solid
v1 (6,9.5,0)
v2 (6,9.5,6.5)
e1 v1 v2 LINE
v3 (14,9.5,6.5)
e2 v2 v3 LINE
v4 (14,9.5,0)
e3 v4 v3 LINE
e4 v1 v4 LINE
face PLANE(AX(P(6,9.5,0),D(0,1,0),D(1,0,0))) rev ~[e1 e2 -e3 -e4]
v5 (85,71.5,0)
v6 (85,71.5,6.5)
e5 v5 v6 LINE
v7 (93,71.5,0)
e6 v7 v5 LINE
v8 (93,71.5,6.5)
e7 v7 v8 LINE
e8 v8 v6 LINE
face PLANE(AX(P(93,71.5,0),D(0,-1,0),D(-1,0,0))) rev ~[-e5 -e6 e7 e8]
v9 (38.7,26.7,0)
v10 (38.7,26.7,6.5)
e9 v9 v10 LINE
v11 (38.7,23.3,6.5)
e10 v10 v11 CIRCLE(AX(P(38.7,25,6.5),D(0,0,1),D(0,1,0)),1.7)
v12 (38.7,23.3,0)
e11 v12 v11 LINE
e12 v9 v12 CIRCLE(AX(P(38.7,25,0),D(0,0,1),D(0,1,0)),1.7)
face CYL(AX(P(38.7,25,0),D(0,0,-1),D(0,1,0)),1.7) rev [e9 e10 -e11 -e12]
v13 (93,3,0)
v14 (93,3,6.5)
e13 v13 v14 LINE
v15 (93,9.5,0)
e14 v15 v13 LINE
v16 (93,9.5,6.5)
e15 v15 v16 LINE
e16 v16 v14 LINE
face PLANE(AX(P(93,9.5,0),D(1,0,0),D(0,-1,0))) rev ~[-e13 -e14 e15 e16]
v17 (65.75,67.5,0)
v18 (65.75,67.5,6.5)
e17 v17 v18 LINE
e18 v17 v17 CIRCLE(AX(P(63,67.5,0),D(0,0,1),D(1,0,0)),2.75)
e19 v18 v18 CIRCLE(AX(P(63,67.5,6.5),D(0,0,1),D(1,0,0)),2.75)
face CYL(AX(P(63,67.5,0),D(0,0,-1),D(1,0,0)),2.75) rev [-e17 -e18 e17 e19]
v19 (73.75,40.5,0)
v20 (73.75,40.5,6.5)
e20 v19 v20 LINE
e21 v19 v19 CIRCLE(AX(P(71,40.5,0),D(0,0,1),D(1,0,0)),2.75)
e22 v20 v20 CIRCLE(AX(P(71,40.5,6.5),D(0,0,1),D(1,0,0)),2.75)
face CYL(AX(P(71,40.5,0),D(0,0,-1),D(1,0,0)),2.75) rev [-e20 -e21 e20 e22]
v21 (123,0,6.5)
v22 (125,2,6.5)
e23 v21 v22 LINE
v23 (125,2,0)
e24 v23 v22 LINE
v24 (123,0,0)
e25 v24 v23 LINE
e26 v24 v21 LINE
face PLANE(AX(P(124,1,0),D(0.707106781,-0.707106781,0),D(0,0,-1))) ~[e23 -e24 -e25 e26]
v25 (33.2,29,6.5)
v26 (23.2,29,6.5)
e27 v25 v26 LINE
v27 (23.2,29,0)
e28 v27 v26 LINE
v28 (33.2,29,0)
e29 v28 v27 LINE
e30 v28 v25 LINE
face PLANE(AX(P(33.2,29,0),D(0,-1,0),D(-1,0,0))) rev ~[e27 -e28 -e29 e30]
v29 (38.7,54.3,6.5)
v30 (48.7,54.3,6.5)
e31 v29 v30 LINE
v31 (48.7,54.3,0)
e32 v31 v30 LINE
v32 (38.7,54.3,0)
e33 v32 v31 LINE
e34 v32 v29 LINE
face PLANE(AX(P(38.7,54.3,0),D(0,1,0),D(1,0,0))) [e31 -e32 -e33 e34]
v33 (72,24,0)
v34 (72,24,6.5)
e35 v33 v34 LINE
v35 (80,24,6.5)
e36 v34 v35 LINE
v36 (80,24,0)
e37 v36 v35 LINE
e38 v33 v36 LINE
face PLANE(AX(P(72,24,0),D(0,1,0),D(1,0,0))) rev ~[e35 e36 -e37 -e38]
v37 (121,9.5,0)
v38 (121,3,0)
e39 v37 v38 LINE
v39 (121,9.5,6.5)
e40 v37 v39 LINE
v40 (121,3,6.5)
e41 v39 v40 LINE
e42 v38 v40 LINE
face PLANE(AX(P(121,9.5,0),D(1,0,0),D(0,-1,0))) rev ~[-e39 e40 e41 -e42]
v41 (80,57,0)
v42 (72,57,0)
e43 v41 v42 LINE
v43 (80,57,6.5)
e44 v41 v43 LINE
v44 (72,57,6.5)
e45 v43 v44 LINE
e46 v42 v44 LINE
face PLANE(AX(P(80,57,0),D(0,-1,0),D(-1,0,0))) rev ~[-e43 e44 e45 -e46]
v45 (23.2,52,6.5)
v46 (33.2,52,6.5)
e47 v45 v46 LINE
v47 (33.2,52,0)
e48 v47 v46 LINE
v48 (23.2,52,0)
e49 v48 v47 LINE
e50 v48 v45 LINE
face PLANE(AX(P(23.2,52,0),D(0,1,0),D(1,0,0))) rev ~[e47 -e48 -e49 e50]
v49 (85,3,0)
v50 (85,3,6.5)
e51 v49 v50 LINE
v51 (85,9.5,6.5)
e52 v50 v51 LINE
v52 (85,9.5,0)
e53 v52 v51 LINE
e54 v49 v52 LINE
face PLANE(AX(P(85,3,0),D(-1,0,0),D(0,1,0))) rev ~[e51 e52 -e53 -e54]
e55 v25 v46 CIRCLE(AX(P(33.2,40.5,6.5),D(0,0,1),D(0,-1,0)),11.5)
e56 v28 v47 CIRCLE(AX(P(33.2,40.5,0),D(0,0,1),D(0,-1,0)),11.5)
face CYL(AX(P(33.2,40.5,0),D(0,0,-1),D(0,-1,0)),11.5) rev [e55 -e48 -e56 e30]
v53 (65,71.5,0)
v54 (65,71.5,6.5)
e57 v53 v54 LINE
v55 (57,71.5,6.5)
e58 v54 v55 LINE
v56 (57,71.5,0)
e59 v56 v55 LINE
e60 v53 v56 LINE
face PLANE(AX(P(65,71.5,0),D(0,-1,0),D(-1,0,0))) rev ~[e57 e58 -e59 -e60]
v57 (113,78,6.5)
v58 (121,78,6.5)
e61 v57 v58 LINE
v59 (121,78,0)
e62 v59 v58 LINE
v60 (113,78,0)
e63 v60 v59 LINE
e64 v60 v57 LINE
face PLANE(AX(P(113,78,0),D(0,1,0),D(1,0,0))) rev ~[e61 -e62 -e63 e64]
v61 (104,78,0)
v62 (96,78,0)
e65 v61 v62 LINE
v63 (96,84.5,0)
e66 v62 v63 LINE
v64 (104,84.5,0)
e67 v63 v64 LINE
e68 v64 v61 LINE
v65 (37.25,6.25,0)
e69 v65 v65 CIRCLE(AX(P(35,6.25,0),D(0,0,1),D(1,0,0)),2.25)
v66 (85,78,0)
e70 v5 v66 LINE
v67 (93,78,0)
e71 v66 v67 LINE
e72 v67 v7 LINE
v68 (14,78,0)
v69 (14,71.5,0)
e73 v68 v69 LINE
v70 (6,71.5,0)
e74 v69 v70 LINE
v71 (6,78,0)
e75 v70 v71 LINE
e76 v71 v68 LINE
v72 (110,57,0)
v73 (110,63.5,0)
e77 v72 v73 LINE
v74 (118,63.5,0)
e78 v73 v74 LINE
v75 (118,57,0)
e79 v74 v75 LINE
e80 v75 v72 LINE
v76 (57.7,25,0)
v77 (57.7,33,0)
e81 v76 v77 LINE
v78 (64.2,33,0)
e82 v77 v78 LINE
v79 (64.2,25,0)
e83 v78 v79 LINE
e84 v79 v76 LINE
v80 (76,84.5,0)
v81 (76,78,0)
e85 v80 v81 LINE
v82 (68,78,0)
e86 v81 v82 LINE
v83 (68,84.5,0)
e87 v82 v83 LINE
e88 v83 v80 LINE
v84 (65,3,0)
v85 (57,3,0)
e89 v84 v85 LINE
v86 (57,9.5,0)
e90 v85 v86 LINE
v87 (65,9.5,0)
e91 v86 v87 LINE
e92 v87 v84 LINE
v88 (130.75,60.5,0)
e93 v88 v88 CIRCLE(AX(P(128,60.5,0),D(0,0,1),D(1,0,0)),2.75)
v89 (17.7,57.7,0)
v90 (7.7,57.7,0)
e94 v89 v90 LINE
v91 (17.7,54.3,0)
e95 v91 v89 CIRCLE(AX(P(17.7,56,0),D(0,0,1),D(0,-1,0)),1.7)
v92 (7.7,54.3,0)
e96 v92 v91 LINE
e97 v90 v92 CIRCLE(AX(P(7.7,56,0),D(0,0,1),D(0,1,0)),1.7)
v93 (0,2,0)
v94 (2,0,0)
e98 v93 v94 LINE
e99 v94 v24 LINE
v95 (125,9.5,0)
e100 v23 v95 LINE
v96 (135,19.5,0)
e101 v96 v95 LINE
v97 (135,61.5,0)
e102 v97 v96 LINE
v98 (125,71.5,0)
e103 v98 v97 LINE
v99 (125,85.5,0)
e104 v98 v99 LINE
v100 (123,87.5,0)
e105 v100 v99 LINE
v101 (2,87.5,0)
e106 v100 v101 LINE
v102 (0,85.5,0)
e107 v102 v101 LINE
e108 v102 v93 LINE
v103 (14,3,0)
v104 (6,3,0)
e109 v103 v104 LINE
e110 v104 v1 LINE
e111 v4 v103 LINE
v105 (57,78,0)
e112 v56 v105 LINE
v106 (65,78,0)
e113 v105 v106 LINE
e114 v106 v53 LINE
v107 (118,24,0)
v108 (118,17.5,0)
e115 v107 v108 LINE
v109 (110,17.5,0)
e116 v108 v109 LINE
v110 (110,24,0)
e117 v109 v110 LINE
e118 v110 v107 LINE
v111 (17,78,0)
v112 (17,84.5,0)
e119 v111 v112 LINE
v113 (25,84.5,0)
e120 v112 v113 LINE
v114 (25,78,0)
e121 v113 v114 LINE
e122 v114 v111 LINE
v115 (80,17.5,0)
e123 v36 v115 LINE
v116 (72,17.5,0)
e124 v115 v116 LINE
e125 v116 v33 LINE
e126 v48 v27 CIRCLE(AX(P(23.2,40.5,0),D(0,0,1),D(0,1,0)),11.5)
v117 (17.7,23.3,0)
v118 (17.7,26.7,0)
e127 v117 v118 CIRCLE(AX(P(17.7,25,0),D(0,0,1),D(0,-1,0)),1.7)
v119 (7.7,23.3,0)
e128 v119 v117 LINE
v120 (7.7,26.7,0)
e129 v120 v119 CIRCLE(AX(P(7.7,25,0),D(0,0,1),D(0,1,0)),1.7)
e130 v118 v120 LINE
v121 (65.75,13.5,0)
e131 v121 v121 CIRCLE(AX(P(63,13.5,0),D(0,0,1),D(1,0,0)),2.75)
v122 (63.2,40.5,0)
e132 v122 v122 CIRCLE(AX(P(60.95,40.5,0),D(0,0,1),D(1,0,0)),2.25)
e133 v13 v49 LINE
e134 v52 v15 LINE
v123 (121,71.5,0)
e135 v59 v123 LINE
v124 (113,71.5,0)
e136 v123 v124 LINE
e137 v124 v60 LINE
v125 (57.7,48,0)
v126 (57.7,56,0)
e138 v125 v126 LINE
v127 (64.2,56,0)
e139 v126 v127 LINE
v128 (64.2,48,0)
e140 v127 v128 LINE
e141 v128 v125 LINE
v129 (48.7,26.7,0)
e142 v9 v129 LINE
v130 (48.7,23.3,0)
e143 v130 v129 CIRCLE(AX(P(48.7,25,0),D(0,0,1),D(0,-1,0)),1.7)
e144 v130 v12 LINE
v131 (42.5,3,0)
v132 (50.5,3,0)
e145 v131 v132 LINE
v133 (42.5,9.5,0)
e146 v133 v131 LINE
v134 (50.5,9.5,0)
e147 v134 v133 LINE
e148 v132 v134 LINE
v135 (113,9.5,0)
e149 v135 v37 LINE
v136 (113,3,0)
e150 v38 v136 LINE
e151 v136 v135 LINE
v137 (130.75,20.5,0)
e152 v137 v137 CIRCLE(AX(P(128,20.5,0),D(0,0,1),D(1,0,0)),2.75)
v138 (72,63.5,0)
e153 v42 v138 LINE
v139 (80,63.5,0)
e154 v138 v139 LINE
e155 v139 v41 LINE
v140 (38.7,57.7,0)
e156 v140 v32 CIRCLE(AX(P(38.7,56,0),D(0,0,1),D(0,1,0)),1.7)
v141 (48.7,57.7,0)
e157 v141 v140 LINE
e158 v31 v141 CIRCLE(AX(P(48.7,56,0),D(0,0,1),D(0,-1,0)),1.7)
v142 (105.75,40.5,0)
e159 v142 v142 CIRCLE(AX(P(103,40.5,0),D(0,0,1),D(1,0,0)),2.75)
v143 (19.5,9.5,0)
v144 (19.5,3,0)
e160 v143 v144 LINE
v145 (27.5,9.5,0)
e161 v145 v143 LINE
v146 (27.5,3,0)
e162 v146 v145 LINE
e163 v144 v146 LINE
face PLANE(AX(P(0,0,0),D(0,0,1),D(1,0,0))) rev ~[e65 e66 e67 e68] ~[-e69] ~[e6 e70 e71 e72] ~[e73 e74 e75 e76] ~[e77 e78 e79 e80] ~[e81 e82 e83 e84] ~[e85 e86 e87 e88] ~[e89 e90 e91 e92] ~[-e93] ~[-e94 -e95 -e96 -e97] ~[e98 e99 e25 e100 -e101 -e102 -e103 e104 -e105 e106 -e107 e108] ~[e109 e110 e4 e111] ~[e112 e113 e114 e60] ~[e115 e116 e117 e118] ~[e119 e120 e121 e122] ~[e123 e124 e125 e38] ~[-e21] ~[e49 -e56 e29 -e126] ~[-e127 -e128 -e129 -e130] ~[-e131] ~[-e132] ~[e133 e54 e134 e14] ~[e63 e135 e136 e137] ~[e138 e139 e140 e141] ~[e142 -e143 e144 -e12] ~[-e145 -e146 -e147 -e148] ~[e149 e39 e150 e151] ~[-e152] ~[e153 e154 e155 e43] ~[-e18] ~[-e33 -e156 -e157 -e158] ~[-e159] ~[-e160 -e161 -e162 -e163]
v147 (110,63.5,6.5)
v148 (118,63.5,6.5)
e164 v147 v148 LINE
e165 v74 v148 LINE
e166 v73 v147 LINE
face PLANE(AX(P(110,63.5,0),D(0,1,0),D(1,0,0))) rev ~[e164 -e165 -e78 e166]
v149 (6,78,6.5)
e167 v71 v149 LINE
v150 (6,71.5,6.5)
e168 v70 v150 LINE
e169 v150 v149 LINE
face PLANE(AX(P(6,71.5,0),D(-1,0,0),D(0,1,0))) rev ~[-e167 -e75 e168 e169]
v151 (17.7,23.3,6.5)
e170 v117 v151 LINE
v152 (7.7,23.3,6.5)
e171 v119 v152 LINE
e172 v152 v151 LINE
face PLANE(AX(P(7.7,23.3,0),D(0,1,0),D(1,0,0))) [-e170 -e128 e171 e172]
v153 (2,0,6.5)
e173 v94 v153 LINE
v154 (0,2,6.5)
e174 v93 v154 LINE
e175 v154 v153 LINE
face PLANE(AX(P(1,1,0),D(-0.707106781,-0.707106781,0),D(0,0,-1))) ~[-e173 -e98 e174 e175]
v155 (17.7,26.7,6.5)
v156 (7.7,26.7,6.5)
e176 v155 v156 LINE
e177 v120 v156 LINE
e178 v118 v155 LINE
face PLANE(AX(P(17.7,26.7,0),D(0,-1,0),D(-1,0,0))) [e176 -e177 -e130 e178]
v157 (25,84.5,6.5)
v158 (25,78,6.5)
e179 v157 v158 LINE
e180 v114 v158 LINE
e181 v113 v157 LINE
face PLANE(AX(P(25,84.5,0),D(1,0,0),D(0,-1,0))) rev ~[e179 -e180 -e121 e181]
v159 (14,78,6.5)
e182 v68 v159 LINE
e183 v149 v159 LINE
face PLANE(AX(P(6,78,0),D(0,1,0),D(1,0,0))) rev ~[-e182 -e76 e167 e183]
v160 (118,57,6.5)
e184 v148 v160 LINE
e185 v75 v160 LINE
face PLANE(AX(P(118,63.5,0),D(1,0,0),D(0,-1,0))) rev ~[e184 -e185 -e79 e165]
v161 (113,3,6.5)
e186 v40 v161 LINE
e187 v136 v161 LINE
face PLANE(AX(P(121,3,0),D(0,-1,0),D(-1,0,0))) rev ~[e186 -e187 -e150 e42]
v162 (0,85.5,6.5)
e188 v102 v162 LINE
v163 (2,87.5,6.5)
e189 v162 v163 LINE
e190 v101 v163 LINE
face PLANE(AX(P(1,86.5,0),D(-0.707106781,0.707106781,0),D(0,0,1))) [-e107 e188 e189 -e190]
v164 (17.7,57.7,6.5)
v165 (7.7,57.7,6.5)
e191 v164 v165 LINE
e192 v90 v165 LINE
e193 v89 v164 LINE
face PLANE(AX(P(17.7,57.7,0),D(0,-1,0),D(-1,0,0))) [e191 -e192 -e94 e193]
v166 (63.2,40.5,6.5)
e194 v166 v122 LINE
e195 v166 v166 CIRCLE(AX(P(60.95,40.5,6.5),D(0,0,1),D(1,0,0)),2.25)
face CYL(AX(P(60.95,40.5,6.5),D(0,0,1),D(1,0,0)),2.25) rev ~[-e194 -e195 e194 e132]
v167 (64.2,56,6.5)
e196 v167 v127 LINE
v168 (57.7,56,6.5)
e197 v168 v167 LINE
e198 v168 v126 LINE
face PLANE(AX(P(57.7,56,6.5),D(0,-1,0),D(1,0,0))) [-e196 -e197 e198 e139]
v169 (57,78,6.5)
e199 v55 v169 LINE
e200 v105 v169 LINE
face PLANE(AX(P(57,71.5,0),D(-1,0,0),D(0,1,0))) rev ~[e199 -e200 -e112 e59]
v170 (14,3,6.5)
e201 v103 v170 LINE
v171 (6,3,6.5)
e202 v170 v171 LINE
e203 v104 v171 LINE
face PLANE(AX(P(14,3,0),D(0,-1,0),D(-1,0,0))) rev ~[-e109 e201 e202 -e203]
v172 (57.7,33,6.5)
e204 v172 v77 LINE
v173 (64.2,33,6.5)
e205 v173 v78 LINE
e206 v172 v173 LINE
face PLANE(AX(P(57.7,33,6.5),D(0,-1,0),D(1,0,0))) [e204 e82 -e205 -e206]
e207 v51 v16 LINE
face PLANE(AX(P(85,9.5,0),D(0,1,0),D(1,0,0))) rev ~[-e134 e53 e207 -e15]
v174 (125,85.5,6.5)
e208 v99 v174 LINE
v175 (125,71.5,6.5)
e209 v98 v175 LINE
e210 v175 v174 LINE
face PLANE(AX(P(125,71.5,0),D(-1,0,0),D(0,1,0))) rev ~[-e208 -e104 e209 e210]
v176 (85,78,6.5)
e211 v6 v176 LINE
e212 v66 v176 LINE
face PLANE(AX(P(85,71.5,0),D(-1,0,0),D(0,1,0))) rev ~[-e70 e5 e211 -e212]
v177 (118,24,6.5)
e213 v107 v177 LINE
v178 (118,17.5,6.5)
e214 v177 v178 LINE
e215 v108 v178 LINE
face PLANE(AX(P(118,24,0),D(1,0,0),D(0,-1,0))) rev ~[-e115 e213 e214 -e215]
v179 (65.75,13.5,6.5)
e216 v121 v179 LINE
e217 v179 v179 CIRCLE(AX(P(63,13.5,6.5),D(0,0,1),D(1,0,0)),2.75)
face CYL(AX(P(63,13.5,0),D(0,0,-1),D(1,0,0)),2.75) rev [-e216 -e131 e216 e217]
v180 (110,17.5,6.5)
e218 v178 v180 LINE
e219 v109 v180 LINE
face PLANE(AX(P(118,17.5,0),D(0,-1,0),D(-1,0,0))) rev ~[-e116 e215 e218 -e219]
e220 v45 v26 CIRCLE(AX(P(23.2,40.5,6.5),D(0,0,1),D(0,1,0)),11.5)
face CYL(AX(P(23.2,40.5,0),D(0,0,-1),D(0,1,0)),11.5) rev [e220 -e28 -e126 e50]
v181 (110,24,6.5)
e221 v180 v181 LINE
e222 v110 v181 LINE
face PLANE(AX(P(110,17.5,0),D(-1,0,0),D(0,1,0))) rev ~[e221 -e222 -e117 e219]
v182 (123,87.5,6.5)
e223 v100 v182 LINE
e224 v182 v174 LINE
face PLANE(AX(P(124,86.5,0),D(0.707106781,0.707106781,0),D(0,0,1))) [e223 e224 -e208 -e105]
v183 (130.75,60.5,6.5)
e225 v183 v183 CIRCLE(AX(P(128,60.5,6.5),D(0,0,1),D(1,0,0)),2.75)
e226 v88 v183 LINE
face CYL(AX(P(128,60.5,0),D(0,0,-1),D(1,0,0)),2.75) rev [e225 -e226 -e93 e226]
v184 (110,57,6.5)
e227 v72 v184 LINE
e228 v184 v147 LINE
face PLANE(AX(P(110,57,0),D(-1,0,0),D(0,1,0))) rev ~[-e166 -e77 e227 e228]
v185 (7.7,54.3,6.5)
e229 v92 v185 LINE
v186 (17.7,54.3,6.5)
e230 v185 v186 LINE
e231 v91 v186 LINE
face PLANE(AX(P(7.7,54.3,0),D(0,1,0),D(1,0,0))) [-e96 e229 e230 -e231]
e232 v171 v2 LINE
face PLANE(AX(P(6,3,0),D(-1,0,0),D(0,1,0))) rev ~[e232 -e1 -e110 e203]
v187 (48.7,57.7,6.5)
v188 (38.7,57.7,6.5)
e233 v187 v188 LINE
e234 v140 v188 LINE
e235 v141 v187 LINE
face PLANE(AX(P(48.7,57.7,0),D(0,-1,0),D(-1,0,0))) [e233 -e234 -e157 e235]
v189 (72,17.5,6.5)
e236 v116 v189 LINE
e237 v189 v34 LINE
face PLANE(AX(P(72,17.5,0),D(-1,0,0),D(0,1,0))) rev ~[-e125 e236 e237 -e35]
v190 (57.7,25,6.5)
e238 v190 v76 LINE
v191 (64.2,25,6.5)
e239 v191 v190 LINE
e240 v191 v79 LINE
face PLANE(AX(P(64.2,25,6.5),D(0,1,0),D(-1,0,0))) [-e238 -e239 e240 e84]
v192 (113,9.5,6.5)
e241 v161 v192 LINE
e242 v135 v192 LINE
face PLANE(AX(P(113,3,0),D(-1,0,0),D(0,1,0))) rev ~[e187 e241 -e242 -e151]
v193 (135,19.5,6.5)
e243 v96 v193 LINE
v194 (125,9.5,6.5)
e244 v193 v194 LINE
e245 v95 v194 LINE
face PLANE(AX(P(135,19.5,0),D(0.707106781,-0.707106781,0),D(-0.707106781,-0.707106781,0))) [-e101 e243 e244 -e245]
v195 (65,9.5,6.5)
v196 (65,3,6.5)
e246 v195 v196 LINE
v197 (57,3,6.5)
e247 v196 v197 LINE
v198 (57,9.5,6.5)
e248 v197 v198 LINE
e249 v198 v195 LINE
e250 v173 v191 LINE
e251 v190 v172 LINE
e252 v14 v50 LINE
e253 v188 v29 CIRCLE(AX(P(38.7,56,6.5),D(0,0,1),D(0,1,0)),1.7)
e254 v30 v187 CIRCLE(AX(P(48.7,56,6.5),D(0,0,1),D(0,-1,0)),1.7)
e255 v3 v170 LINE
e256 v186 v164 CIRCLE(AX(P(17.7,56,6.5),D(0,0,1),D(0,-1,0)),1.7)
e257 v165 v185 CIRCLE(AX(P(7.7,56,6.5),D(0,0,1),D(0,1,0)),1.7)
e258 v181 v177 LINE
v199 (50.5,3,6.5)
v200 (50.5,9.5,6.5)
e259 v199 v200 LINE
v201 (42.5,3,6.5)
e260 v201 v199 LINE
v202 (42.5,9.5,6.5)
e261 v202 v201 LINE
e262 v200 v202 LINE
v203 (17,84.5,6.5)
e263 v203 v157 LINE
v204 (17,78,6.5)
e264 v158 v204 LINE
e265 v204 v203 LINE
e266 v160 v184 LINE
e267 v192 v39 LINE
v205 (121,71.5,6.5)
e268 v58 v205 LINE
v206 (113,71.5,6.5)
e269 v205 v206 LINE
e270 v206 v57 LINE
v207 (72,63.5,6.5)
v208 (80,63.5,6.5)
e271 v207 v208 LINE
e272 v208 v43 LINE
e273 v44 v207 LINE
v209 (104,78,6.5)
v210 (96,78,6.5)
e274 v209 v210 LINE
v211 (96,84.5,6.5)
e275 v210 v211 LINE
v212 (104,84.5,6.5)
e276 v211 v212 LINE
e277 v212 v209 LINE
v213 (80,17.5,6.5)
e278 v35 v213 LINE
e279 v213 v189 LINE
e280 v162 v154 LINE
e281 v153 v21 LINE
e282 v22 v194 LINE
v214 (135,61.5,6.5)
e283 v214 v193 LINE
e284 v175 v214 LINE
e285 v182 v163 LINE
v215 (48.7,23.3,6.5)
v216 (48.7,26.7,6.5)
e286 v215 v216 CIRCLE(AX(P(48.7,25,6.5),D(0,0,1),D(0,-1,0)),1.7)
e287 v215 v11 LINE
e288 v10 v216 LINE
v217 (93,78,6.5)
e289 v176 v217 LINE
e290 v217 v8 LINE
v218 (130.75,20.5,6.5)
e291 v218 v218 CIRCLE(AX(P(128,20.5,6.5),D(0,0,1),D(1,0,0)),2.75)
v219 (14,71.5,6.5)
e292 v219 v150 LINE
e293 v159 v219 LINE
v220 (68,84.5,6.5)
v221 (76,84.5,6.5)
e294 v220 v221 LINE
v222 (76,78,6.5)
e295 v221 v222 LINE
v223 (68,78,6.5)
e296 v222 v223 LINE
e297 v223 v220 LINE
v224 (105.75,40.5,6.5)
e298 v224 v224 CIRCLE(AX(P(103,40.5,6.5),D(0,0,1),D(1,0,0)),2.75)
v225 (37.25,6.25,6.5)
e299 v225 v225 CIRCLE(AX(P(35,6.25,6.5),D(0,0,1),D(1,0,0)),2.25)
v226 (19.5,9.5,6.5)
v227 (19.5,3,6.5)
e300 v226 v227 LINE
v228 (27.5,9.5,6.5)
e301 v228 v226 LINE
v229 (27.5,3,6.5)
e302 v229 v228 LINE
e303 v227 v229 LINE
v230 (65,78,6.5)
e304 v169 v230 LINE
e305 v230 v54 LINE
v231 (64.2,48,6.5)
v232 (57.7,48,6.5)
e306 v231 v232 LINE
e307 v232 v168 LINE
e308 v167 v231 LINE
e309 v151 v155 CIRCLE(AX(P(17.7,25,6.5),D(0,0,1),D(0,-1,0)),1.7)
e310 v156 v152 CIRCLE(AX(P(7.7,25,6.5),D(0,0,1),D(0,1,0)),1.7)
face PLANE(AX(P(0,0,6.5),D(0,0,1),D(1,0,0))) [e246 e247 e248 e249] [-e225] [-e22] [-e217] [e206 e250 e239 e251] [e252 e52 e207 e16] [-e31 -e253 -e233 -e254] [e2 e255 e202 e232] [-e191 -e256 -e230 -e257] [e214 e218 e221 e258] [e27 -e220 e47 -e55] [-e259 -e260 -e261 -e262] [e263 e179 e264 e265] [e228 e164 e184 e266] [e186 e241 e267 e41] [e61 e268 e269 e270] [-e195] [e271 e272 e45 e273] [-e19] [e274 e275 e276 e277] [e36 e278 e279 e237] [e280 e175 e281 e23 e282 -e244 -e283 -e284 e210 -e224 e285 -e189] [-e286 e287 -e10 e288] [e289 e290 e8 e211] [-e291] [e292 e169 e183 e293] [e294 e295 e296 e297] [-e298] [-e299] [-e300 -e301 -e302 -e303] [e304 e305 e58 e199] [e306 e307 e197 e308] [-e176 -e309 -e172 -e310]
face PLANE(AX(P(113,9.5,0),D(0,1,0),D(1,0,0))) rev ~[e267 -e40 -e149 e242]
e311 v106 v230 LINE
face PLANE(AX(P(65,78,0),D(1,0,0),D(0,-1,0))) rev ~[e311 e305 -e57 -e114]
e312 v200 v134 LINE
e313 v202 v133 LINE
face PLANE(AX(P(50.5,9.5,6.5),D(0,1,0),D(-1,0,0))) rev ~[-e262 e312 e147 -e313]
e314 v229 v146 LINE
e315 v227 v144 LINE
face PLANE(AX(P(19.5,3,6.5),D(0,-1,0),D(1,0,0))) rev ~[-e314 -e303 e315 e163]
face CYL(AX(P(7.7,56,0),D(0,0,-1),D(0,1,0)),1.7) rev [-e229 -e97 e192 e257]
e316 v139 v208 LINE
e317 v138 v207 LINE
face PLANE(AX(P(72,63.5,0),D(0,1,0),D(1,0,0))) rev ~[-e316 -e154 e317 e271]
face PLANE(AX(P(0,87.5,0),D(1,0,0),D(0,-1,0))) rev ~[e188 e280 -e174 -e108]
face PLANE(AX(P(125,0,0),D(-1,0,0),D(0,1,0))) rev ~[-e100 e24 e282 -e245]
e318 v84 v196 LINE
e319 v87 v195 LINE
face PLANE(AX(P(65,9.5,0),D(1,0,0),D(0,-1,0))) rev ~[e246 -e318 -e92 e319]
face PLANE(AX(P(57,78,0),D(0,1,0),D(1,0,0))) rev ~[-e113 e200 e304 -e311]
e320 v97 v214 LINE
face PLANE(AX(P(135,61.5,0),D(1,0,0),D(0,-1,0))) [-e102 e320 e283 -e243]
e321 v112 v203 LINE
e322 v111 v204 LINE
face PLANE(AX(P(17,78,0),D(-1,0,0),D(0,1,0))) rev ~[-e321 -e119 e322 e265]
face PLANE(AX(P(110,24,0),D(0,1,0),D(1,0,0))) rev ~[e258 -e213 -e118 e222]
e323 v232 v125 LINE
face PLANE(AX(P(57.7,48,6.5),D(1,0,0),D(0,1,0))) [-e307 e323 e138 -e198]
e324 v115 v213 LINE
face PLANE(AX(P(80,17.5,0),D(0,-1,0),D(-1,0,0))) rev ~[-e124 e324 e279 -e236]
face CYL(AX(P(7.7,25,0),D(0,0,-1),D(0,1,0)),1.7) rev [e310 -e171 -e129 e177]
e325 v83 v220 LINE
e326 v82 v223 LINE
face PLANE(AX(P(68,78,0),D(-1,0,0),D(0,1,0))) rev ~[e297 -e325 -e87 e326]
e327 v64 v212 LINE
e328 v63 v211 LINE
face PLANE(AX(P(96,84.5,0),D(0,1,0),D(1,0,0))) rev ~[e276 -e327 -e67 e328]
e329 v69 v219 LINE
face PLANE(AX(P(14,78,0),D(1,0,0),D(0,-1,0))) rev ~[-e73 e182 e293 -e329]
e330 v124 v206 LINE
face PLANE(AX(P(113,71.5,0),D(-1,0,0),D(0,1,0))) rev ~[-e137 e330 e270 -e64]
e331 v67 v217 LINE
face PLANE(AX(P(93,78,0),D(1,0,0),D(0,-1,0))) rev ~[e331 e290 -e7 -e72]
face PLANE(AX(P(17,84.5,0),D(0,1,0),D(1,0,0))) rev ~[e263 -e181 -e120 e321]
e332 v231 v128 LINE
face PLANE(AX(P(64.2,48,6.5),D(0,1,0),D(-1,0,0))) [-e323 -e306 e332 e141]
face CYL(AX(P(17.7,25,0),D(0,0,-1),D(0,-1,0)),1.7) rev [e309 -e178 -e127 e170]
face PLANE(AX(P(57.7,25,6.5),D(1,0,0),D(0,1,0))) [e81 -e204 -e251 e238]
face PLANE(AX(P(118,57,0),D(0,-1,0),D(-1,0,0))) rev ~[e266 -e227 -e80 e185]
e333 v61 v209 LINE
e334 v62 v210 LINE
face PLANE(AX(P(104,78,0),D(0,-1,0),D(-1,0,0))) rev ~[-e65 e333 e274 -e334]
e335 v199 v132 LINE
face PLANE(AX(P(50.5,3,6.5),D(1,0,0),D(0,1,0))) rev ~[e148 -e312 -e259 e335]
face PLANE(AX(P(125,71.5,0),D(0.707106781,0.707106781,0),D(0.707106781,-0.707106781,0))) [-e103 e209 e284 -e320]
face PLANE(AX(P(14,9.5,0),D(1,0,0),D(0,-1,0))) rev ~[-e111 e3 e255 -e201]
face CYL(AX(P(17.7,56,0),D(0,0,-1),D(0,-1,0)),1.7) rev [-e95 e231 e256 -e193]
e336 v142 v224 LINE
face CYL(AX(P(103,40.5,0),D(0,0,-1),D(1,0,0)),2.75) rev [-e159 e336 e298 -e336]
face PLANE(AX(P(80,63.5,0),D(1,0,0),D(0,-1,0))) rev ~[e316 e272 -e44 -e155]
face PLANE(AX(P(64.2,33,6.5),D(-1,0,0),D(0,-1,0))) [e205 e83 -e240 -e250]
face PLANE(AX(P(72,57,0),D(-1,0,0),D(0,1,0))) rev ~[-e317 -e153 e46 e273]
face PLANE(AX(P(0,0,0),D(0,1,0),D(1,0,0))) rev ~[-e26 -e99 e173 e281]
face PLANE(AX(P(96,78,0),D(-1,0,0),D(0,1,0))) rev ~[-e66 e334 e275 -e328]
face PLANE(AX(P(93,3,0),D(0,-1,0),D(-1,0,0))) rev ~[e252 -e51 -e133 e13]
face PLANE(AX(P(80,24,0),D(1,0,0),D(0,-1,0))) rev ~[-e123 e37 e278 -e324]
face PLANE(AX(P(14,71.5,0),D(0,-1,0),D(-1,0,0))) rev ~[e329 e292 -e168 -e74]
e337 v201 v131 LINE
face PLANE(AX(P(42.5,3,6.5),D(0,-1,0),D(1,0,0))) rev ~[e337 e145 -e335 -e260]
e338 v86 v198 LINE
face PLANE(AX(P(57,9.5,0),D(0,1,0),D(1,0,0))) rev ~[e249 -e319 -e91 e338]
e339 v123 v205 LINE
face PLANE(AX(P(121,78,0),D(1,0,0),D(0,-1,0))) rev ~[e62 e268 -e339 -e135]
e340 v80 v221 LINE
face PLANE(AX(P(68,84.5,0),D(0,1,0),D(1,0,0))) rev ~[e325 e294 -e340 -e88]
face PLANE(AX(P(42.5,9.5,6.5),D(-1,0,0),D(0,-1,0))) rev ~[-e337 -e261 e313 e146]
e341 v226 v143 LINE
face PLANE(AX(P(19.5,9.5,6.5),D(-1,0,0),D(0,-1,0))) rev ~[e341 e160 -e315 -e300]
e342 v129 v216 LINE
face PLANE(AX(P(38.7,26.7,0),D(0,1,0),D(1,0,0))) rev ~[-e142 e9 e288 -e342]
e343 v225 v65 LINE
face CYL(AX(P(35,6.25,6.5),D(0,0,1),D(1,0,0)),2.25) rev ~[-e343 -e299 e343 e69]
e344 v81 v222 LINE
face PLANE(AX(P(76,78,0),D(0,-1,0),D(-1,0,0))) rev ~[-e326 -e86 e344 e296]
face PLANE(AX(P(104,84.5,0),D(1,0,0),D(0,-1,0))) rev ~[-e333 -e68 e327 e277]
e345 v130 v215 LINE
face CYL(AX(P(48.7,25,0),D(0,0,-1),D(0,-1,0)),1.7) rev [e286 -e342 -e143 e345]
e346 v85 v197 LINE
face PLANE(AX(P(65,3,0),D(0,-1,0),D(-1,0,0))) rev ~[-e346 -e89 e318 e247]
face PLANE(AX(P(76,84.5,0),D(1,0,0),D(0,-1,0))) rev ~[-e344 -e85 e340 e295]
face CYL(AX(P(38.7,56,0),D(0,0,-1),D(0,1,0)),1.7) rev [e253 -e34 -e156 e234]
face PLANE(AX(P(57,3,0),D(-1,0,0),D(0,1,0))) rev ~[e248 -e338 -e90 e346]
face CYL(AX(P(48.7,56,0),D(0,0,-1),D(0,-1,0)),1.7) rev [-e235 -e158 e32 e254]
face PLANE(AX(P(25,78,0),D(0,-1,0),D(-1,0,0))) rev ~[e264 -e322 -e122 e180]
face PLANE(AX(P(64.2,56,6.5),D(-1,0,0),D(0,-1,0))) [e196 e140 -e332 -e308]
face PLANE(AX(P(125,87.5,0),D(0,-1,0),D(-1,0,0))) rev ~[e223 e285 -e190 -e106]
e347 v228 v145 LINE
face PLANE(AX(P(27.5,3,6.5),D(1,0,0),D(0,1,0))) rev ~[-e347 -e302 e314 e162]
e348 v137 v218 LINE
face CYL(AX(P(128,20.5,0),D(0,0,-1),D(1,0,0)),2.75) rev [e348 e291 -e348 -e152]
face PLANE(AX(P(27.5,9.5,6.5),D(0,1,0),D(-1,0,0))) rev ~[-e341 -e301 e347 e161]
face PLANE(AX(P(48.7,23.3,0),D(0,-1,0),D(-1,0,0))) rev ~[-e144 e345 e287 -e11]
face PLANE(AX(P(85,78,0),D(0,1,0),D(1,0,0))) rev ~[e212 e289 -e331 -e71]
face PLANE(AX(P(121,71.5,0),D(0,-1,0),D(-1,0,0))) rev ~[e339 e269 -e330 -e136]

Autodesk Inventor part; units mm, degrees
ref_plane "YZ Plane" through (0, 0, 0) normal (1, 0, 0) x (0, 1, 0)
ref_plane "XZ Plane" through (0, 0, 0) normal (0, 1, 0) x (-1, 0, 0)
ref_plane "XY Plane" through (0, 0, 0) normal (0, 0, 1) x (1, 0, 0)
sketch "Sketch1" plane through (0, 0, 0) normal (0, 0, 1) x (1, 0, 0)
  line L0 (0, 0) -> (125, 0)
  line L1 (125, 87.5) -> (0, 87.5)
  line L2 (0, 87.5) -> (0, 0)
  line L3 (12.7, 56) -> (43.7, 56) construction
  line L4 (43.7, 56) -> (43.7, 25) construction
  line L5 (43.7, 25) -> (12.7, 25) construction
  line L6 (12.7, 25) -> (12.7, 56) construction
  line L7 (7.7, 56) -> (17.7, 56) construction
  line L8 (7.7, 54.3) -> (17.7, 54.3)
  line L9 (17.7, 57.7) -> (7.7, 57.7)
  arc A0 (7.7, 57.7) -> (7.7, 54.3) centre (7.7, 56) ccw
  arc A1 (17.7, 54.3) -> (17.7, 57.7) centre (17.7, 56) ccw
  line L10 (38.7, 56) -> (48.7, 56) construction
  line L11 (38.7, 54.3) -> (48.7, 54.3)
  line L12 (48.7, 57.7) -> (38.7, 57.7)
  arc A2 (38.7, 57.7) -> (38.7, 54.3) centre (38.7, 56) ccw
  arc A3 (48.7, 54.3) -> (48.7, 57.7) centre (48.7, 56) ccw
  line L13 (7.7, 25) -> (17.7, 25) construction
  line L14 (7.7, 23.3) -> (17.7, 23.3)
  line L15 (17.7, 26.7) -> (7.7, 26.7)
  arc A4 (7.7, 26.7) -> (7.7, 23.3) centre (7.7, 25) ccw
  arc A5 (17.7, 23.3) -> (17.7, 26.7) centre (17.7, 25) ccw
  line L16 (38.7, 25) -> (48.7, 25) construction
  line L17 (38.7, 26.7) -> (48.7, 26.7)
  line L18 (48.7, 23.3) -> (38.7, 23.3)
  arc A6 (38.7, 26.7) -> (38.7, 23.3) centre (38.7, 25) ccw
  arc A7 (48.7, 23.3) -> (48.7, 26.7) centre (48.7, 25) ccw
  line L19 (23.2, 40.5) -> (33.2, 40.5) construction
  line L20 (23.2, 52) -> (33.2, 52)
  line L21 (33.2, 29) -> (23.2, 29)
  arc A8 (23.2, 52) -> (23.2, 29) centre (23.2, 40.5) ccw
  arc A9 (33.2, 29) -> (33.2, 52) centre (33.2, 40.5) ccw
  line L22 (6, 78) -> (14, 78)
  line L23 (14, 78) -> (14, 71.5)
  line L24 (14, 71.5) -> (6, 71.5)
  line L25 (6, 71.5) -> (6, 78)
  line L26 (6, 9.5) -> (14, 9.5)
  line L27 (14, 9.5) -> (14, 3)
  line L28 (14, 3) -> (6, 3)
  line L29 (6, 3) -> (6, 9.5)
  line L30 (125, 71.5) -> (135, 61.5)
  line L31 (135, 61.5) -> (135, 19.5)
  line L32 (135, 19.5) -> (125, 9.5)
  line L33 (125, 0) -> (125, 9.5)
  line L34 (125, 71.5) -> (125, 87.5)
  line L35 (72, 63.5) -> (80, 63.5)
  line L36 (80, 63.5) -> (80, 57)
  line L37 (80, 57) -> (72, 57)
  line L38 (72, 57) -> (72, 63.5)
  line L39 (72, 24) -> (80, 24)
  line L40 (80, 24) -> (80, 17.5)
  line L41 (80, 17.5) -> (72, 17.5)
  line L42 (72, 17.5) -> (72, 24)
  line L43 (0, 67.5) -> (129, 67.5) construction
  line L44 (0, 13.5) -> (129, 13.5) construction
  line L45 (129, 67.5) -> (129, 13.5) construction
  line L46 (17, 84.5) -> (25, 84.5)
  line L47 (25, 84.5) -> (25, 78)
  line L48 (25, 78) -> (17, 78)
  line L49 (17, 78) -> (17, 84.5)
  line L50 (113, 78) -> (121, 78)
  line L51 (121, 78) -> (121, 71.5)
  line L52 (121, 71.5) -> (113, 71.5)
  line L53 (113, 71.5) -> (113, 78)
  line L54 (113, 9.5) -> (121, 9.5)
  line L55 (121, 9.5) -> (121, 3)
  line L56 (121, 3) -> (113, 3)
  line L57 (113, 3) -> (113, 9.5)
  circle A10 centre (128, 60.5) radius 2.75
  circle A11 centre (63, 67.5) radius 2.75
  circle A12 centre (63, 13.5) radius 2.75
  circle A13 centre (128, 20.5) radius 2.75
  line L58 (57, 87.5) -> (57, 0) construction
  line L59 (11.7, 62) -> (54.7, 62) construction
  line L60 (54.7, 62) -> (54.7, 19) construction
  line L61 (54.7, 19) -> (11.7, 19) construction
  line L62 (11.7, 19) -> (11.7, 62) construction
  line L63 (17.7, 25) -> (48.7, 25) construction
  line L64 (110, 63.5) -> (118, 63.5)
  line L65 (118, 63.5) -> (118, 57)
  line L66 (118, 57) -> (110, 57)
  line L67 (110, 57) -> (110, 63.5)
  line L68 (110, 24) -> (118, 24)
  line L69 (118, 24) -> (118, 17.5)
  line L70 (118, 17.5) -> (110, 17.5)
  line L71 (110, 17.5) -> (110, 24)
  line L72 (85, 78) -> (93, 78)
  line L73 (93, 78) -> (93, 71.5)
  line L74 (93, 71.5) -> (85, 71.5)
  line L75 (85, 71.5) -> (85, 78)
  line L76 (85, 9.5) -> (93, 9.5)
  line L77 (93, 9.5) -> (93, 3)
  line L78 (93, 3) -> (85, 3)
  line L79 (85, 3) -> (85, 9.5)
  line L80 (57, 78) -> (65, 78)
  line L81 (65, 78) -> (65, 71.5)
  line L82 (65, 71.5) -> (57, 71.5)
  line L83 (57, 71.5) -> (57, 78)
  line L84 (57, 9.5) -> (65, 9.5)
  line L85 (65, 9.5) -> (65, 3)
  line L86 (65, 3) -> (57, 3)
  line L87 (57, 3) -> (57, 9.5)
  line L88 (68, 84.5) -> (76, 84.5)
  line L89 (76, 84.5) -> (76, 78)
  line L90 (76, 78) -> (68, 78)
  line L91 (68, 78) -> (68, 84.5)
  line L92 (96, 84.5) -> (104, 84.5)
  line L93 (104, 84.5) -> (104, 78)
  line L94 (104, 78) -> (96, 78)
  line L95 (96, 78) -> (96, 84.5)
  circle A14 centre (71, 40.5) radius 5 construction
  circle A15 centre (103, 40.5) radius 5 construction
  circle A16 centre (103, 40.5) radius 2.75
  circle A17 centre (71, 40.5) radius 2.75
  point P0 (28.2, 40.5)
  point P1 (28.2, 56)
  point P2 (12.7, 40.5)
  point P3 (129, 40.5)
  point P4 (11.7, 40.5)
  point P5 (33.2, 25)
  point P6 (33.2, 19)
  dimension "d1" = 31
  dimension "d2" = 31
  dimension "d3" = 3.4
  dimension "d4" = 3.4
  dimension "d5" = 3.4
  dimension "d6" = 3.4
  dimension "d7" = 10
  dimension "d8" = 23
  dimension "d9" = 3
  dimension "d10" = 6.5
  dimension "d11" = 6.5
  dimension "d13" = 45
  dimension "d14" = 10
  dimension "d15" = 8
  dimension "d16" = 6.5
  dimension "d17" = 8
  dimension "d18" = 6.5
  dimension "d19" = 4
  dimension "d21" = 8
  dimension "d22" = 8
  dimension "d23" = 7.7
  dimension "d25" = 8
  dimension "d26" = 6.5
  dimension "d27" = 3
  dimension "d28" = 6
  dimension "d29" = 8
  dimension "d30" = 4
  dimension "d31" = 4
  dimension "d32" = 125
  dimension "d33" = 5.5
  dimension "d34" = 5.5
  dimension "d35" = 5.5
  dimension "d36" = 5.5
  dimension "d37" = 7
  dimension "d38" = 11
  dimension "d39" = 7
  dimension "d40" = 11
  dimension "d41" = 62
  dimension "d42" = 68
  dimension "d43" = 43
  dimension "d44" = 43
  dimension "d45" = 8
  dimension "d47" = 8
  dimension "d48" = 10
  dimension "d49" = 8
  dimension "d50" = 20
  dimension "d51" = 8
  dimension "d52" = 20
  dimension "d53" = 8
  dimension "d54" = 8
  dimension "d55" = 3
  dimension "d56" = 3
  dimension "d57" = 15
  dimension "d58" = 10
  dimension "d59" = 10
  dimension "d60" = 5.5
  dimension "d61" = 5.5
  dimension "d62" = 14
  dimension "d63" = 32
  dimension "d96" = 3
  dimension "d97" = 54
extrude "Extrusion4" add sketch "Sketch1" along normal blind 6.5
sketch "Sketch4" plane through (0, 0, 6.5) normal (0, 0, 1) x (1, 0, 0)
  arc A0 (33.2, 29) -> (33.2, 52) centre (33.2, 40.5) ccw projected
  line L0 (14, 9.5) -> (14, 3) projected
  line L1 (6, 9.5) -> (14, 9.5) projected
  line L2 (11.7, 62) -> (54.7, 62) construction
  line L3 (54.7, 62) -> (54.7, 19) construction
  line L4 (54.7, 19) -> (11.7, 19) construction
  line L5 (11.7, 19) -> (11.7, 62) construction
  line L6 (57.7, 56) -> (64.2, 56)
  line L7 (64.2, 56) -> (64.2, 48)
  line L8 (64.2, 48) -> (57.7, 48)
  line L9 (57.7, 48) -> (57.7, 56)
  line L10 (57.7, 33) -> (64.2, 33)
  line L11 (64.2, 33) -> (64.2, 25)
  line L12 (64.2, 25) -> (57.7, 25)
  line L13 (57.7, 25) -> (57.7, 33)
  line L14 (50.5, 9.5) -> (42.5, 9.5)
  line L15 (42.5, 9.5) -> (42.5, 3)
  line L16 (42.5, 3) -> (50.5, 3)
  line L17 (50.5, 3) -> (50.5, 9.5)
  line L18 (27.5, 9.5) -> (19.5, 9.5)
  line L19 (19.5, 9.5) -> (19.5, 3)
  line L20 (19.5, 3) -> (27.5, 3)
  line L21 (27.5, 3) -> (27.5, 9.5)
  line L22 (27.5, 9.5) -> (42.5, 3) construction
  line L23 (27.5, 3) -> (42.5, 9.5) construction
  line L24 (64.2, 33) -> (57.7, 48) construction
  line L25 (64.2, 48) -> (57.7, 33) construction
  circle A1 centre (35, 6.25) radius 2.25
  circle A2 centre (60.95, 40.5) radius 2.25
  point P0 (33.2, 62)
  point P1 (11.7, 40.5)
  dimension "d100" = 43
  dimension "d101" = 6.5
  dimension "d102" = 8
  dimension "d103" = 15
  dimension "d104" = 15
  dimension "d105" = 4.5
  dimension "d106" = 4.5
  dimension "d107" = 3
  dimension "d108" = 21
extrude "Extrusion5" cut sketch "Sketch4" against normal blind 6.5
chamfer "Chamfer2" distance 2 angle 45 4 edges at (0, 87.5, 3.25) (0, 0, 3.25) (125, 0, 3.25) (125, 87.5, 3.25)
properties part number "x_motor_back" material "Plywood, Finish"
